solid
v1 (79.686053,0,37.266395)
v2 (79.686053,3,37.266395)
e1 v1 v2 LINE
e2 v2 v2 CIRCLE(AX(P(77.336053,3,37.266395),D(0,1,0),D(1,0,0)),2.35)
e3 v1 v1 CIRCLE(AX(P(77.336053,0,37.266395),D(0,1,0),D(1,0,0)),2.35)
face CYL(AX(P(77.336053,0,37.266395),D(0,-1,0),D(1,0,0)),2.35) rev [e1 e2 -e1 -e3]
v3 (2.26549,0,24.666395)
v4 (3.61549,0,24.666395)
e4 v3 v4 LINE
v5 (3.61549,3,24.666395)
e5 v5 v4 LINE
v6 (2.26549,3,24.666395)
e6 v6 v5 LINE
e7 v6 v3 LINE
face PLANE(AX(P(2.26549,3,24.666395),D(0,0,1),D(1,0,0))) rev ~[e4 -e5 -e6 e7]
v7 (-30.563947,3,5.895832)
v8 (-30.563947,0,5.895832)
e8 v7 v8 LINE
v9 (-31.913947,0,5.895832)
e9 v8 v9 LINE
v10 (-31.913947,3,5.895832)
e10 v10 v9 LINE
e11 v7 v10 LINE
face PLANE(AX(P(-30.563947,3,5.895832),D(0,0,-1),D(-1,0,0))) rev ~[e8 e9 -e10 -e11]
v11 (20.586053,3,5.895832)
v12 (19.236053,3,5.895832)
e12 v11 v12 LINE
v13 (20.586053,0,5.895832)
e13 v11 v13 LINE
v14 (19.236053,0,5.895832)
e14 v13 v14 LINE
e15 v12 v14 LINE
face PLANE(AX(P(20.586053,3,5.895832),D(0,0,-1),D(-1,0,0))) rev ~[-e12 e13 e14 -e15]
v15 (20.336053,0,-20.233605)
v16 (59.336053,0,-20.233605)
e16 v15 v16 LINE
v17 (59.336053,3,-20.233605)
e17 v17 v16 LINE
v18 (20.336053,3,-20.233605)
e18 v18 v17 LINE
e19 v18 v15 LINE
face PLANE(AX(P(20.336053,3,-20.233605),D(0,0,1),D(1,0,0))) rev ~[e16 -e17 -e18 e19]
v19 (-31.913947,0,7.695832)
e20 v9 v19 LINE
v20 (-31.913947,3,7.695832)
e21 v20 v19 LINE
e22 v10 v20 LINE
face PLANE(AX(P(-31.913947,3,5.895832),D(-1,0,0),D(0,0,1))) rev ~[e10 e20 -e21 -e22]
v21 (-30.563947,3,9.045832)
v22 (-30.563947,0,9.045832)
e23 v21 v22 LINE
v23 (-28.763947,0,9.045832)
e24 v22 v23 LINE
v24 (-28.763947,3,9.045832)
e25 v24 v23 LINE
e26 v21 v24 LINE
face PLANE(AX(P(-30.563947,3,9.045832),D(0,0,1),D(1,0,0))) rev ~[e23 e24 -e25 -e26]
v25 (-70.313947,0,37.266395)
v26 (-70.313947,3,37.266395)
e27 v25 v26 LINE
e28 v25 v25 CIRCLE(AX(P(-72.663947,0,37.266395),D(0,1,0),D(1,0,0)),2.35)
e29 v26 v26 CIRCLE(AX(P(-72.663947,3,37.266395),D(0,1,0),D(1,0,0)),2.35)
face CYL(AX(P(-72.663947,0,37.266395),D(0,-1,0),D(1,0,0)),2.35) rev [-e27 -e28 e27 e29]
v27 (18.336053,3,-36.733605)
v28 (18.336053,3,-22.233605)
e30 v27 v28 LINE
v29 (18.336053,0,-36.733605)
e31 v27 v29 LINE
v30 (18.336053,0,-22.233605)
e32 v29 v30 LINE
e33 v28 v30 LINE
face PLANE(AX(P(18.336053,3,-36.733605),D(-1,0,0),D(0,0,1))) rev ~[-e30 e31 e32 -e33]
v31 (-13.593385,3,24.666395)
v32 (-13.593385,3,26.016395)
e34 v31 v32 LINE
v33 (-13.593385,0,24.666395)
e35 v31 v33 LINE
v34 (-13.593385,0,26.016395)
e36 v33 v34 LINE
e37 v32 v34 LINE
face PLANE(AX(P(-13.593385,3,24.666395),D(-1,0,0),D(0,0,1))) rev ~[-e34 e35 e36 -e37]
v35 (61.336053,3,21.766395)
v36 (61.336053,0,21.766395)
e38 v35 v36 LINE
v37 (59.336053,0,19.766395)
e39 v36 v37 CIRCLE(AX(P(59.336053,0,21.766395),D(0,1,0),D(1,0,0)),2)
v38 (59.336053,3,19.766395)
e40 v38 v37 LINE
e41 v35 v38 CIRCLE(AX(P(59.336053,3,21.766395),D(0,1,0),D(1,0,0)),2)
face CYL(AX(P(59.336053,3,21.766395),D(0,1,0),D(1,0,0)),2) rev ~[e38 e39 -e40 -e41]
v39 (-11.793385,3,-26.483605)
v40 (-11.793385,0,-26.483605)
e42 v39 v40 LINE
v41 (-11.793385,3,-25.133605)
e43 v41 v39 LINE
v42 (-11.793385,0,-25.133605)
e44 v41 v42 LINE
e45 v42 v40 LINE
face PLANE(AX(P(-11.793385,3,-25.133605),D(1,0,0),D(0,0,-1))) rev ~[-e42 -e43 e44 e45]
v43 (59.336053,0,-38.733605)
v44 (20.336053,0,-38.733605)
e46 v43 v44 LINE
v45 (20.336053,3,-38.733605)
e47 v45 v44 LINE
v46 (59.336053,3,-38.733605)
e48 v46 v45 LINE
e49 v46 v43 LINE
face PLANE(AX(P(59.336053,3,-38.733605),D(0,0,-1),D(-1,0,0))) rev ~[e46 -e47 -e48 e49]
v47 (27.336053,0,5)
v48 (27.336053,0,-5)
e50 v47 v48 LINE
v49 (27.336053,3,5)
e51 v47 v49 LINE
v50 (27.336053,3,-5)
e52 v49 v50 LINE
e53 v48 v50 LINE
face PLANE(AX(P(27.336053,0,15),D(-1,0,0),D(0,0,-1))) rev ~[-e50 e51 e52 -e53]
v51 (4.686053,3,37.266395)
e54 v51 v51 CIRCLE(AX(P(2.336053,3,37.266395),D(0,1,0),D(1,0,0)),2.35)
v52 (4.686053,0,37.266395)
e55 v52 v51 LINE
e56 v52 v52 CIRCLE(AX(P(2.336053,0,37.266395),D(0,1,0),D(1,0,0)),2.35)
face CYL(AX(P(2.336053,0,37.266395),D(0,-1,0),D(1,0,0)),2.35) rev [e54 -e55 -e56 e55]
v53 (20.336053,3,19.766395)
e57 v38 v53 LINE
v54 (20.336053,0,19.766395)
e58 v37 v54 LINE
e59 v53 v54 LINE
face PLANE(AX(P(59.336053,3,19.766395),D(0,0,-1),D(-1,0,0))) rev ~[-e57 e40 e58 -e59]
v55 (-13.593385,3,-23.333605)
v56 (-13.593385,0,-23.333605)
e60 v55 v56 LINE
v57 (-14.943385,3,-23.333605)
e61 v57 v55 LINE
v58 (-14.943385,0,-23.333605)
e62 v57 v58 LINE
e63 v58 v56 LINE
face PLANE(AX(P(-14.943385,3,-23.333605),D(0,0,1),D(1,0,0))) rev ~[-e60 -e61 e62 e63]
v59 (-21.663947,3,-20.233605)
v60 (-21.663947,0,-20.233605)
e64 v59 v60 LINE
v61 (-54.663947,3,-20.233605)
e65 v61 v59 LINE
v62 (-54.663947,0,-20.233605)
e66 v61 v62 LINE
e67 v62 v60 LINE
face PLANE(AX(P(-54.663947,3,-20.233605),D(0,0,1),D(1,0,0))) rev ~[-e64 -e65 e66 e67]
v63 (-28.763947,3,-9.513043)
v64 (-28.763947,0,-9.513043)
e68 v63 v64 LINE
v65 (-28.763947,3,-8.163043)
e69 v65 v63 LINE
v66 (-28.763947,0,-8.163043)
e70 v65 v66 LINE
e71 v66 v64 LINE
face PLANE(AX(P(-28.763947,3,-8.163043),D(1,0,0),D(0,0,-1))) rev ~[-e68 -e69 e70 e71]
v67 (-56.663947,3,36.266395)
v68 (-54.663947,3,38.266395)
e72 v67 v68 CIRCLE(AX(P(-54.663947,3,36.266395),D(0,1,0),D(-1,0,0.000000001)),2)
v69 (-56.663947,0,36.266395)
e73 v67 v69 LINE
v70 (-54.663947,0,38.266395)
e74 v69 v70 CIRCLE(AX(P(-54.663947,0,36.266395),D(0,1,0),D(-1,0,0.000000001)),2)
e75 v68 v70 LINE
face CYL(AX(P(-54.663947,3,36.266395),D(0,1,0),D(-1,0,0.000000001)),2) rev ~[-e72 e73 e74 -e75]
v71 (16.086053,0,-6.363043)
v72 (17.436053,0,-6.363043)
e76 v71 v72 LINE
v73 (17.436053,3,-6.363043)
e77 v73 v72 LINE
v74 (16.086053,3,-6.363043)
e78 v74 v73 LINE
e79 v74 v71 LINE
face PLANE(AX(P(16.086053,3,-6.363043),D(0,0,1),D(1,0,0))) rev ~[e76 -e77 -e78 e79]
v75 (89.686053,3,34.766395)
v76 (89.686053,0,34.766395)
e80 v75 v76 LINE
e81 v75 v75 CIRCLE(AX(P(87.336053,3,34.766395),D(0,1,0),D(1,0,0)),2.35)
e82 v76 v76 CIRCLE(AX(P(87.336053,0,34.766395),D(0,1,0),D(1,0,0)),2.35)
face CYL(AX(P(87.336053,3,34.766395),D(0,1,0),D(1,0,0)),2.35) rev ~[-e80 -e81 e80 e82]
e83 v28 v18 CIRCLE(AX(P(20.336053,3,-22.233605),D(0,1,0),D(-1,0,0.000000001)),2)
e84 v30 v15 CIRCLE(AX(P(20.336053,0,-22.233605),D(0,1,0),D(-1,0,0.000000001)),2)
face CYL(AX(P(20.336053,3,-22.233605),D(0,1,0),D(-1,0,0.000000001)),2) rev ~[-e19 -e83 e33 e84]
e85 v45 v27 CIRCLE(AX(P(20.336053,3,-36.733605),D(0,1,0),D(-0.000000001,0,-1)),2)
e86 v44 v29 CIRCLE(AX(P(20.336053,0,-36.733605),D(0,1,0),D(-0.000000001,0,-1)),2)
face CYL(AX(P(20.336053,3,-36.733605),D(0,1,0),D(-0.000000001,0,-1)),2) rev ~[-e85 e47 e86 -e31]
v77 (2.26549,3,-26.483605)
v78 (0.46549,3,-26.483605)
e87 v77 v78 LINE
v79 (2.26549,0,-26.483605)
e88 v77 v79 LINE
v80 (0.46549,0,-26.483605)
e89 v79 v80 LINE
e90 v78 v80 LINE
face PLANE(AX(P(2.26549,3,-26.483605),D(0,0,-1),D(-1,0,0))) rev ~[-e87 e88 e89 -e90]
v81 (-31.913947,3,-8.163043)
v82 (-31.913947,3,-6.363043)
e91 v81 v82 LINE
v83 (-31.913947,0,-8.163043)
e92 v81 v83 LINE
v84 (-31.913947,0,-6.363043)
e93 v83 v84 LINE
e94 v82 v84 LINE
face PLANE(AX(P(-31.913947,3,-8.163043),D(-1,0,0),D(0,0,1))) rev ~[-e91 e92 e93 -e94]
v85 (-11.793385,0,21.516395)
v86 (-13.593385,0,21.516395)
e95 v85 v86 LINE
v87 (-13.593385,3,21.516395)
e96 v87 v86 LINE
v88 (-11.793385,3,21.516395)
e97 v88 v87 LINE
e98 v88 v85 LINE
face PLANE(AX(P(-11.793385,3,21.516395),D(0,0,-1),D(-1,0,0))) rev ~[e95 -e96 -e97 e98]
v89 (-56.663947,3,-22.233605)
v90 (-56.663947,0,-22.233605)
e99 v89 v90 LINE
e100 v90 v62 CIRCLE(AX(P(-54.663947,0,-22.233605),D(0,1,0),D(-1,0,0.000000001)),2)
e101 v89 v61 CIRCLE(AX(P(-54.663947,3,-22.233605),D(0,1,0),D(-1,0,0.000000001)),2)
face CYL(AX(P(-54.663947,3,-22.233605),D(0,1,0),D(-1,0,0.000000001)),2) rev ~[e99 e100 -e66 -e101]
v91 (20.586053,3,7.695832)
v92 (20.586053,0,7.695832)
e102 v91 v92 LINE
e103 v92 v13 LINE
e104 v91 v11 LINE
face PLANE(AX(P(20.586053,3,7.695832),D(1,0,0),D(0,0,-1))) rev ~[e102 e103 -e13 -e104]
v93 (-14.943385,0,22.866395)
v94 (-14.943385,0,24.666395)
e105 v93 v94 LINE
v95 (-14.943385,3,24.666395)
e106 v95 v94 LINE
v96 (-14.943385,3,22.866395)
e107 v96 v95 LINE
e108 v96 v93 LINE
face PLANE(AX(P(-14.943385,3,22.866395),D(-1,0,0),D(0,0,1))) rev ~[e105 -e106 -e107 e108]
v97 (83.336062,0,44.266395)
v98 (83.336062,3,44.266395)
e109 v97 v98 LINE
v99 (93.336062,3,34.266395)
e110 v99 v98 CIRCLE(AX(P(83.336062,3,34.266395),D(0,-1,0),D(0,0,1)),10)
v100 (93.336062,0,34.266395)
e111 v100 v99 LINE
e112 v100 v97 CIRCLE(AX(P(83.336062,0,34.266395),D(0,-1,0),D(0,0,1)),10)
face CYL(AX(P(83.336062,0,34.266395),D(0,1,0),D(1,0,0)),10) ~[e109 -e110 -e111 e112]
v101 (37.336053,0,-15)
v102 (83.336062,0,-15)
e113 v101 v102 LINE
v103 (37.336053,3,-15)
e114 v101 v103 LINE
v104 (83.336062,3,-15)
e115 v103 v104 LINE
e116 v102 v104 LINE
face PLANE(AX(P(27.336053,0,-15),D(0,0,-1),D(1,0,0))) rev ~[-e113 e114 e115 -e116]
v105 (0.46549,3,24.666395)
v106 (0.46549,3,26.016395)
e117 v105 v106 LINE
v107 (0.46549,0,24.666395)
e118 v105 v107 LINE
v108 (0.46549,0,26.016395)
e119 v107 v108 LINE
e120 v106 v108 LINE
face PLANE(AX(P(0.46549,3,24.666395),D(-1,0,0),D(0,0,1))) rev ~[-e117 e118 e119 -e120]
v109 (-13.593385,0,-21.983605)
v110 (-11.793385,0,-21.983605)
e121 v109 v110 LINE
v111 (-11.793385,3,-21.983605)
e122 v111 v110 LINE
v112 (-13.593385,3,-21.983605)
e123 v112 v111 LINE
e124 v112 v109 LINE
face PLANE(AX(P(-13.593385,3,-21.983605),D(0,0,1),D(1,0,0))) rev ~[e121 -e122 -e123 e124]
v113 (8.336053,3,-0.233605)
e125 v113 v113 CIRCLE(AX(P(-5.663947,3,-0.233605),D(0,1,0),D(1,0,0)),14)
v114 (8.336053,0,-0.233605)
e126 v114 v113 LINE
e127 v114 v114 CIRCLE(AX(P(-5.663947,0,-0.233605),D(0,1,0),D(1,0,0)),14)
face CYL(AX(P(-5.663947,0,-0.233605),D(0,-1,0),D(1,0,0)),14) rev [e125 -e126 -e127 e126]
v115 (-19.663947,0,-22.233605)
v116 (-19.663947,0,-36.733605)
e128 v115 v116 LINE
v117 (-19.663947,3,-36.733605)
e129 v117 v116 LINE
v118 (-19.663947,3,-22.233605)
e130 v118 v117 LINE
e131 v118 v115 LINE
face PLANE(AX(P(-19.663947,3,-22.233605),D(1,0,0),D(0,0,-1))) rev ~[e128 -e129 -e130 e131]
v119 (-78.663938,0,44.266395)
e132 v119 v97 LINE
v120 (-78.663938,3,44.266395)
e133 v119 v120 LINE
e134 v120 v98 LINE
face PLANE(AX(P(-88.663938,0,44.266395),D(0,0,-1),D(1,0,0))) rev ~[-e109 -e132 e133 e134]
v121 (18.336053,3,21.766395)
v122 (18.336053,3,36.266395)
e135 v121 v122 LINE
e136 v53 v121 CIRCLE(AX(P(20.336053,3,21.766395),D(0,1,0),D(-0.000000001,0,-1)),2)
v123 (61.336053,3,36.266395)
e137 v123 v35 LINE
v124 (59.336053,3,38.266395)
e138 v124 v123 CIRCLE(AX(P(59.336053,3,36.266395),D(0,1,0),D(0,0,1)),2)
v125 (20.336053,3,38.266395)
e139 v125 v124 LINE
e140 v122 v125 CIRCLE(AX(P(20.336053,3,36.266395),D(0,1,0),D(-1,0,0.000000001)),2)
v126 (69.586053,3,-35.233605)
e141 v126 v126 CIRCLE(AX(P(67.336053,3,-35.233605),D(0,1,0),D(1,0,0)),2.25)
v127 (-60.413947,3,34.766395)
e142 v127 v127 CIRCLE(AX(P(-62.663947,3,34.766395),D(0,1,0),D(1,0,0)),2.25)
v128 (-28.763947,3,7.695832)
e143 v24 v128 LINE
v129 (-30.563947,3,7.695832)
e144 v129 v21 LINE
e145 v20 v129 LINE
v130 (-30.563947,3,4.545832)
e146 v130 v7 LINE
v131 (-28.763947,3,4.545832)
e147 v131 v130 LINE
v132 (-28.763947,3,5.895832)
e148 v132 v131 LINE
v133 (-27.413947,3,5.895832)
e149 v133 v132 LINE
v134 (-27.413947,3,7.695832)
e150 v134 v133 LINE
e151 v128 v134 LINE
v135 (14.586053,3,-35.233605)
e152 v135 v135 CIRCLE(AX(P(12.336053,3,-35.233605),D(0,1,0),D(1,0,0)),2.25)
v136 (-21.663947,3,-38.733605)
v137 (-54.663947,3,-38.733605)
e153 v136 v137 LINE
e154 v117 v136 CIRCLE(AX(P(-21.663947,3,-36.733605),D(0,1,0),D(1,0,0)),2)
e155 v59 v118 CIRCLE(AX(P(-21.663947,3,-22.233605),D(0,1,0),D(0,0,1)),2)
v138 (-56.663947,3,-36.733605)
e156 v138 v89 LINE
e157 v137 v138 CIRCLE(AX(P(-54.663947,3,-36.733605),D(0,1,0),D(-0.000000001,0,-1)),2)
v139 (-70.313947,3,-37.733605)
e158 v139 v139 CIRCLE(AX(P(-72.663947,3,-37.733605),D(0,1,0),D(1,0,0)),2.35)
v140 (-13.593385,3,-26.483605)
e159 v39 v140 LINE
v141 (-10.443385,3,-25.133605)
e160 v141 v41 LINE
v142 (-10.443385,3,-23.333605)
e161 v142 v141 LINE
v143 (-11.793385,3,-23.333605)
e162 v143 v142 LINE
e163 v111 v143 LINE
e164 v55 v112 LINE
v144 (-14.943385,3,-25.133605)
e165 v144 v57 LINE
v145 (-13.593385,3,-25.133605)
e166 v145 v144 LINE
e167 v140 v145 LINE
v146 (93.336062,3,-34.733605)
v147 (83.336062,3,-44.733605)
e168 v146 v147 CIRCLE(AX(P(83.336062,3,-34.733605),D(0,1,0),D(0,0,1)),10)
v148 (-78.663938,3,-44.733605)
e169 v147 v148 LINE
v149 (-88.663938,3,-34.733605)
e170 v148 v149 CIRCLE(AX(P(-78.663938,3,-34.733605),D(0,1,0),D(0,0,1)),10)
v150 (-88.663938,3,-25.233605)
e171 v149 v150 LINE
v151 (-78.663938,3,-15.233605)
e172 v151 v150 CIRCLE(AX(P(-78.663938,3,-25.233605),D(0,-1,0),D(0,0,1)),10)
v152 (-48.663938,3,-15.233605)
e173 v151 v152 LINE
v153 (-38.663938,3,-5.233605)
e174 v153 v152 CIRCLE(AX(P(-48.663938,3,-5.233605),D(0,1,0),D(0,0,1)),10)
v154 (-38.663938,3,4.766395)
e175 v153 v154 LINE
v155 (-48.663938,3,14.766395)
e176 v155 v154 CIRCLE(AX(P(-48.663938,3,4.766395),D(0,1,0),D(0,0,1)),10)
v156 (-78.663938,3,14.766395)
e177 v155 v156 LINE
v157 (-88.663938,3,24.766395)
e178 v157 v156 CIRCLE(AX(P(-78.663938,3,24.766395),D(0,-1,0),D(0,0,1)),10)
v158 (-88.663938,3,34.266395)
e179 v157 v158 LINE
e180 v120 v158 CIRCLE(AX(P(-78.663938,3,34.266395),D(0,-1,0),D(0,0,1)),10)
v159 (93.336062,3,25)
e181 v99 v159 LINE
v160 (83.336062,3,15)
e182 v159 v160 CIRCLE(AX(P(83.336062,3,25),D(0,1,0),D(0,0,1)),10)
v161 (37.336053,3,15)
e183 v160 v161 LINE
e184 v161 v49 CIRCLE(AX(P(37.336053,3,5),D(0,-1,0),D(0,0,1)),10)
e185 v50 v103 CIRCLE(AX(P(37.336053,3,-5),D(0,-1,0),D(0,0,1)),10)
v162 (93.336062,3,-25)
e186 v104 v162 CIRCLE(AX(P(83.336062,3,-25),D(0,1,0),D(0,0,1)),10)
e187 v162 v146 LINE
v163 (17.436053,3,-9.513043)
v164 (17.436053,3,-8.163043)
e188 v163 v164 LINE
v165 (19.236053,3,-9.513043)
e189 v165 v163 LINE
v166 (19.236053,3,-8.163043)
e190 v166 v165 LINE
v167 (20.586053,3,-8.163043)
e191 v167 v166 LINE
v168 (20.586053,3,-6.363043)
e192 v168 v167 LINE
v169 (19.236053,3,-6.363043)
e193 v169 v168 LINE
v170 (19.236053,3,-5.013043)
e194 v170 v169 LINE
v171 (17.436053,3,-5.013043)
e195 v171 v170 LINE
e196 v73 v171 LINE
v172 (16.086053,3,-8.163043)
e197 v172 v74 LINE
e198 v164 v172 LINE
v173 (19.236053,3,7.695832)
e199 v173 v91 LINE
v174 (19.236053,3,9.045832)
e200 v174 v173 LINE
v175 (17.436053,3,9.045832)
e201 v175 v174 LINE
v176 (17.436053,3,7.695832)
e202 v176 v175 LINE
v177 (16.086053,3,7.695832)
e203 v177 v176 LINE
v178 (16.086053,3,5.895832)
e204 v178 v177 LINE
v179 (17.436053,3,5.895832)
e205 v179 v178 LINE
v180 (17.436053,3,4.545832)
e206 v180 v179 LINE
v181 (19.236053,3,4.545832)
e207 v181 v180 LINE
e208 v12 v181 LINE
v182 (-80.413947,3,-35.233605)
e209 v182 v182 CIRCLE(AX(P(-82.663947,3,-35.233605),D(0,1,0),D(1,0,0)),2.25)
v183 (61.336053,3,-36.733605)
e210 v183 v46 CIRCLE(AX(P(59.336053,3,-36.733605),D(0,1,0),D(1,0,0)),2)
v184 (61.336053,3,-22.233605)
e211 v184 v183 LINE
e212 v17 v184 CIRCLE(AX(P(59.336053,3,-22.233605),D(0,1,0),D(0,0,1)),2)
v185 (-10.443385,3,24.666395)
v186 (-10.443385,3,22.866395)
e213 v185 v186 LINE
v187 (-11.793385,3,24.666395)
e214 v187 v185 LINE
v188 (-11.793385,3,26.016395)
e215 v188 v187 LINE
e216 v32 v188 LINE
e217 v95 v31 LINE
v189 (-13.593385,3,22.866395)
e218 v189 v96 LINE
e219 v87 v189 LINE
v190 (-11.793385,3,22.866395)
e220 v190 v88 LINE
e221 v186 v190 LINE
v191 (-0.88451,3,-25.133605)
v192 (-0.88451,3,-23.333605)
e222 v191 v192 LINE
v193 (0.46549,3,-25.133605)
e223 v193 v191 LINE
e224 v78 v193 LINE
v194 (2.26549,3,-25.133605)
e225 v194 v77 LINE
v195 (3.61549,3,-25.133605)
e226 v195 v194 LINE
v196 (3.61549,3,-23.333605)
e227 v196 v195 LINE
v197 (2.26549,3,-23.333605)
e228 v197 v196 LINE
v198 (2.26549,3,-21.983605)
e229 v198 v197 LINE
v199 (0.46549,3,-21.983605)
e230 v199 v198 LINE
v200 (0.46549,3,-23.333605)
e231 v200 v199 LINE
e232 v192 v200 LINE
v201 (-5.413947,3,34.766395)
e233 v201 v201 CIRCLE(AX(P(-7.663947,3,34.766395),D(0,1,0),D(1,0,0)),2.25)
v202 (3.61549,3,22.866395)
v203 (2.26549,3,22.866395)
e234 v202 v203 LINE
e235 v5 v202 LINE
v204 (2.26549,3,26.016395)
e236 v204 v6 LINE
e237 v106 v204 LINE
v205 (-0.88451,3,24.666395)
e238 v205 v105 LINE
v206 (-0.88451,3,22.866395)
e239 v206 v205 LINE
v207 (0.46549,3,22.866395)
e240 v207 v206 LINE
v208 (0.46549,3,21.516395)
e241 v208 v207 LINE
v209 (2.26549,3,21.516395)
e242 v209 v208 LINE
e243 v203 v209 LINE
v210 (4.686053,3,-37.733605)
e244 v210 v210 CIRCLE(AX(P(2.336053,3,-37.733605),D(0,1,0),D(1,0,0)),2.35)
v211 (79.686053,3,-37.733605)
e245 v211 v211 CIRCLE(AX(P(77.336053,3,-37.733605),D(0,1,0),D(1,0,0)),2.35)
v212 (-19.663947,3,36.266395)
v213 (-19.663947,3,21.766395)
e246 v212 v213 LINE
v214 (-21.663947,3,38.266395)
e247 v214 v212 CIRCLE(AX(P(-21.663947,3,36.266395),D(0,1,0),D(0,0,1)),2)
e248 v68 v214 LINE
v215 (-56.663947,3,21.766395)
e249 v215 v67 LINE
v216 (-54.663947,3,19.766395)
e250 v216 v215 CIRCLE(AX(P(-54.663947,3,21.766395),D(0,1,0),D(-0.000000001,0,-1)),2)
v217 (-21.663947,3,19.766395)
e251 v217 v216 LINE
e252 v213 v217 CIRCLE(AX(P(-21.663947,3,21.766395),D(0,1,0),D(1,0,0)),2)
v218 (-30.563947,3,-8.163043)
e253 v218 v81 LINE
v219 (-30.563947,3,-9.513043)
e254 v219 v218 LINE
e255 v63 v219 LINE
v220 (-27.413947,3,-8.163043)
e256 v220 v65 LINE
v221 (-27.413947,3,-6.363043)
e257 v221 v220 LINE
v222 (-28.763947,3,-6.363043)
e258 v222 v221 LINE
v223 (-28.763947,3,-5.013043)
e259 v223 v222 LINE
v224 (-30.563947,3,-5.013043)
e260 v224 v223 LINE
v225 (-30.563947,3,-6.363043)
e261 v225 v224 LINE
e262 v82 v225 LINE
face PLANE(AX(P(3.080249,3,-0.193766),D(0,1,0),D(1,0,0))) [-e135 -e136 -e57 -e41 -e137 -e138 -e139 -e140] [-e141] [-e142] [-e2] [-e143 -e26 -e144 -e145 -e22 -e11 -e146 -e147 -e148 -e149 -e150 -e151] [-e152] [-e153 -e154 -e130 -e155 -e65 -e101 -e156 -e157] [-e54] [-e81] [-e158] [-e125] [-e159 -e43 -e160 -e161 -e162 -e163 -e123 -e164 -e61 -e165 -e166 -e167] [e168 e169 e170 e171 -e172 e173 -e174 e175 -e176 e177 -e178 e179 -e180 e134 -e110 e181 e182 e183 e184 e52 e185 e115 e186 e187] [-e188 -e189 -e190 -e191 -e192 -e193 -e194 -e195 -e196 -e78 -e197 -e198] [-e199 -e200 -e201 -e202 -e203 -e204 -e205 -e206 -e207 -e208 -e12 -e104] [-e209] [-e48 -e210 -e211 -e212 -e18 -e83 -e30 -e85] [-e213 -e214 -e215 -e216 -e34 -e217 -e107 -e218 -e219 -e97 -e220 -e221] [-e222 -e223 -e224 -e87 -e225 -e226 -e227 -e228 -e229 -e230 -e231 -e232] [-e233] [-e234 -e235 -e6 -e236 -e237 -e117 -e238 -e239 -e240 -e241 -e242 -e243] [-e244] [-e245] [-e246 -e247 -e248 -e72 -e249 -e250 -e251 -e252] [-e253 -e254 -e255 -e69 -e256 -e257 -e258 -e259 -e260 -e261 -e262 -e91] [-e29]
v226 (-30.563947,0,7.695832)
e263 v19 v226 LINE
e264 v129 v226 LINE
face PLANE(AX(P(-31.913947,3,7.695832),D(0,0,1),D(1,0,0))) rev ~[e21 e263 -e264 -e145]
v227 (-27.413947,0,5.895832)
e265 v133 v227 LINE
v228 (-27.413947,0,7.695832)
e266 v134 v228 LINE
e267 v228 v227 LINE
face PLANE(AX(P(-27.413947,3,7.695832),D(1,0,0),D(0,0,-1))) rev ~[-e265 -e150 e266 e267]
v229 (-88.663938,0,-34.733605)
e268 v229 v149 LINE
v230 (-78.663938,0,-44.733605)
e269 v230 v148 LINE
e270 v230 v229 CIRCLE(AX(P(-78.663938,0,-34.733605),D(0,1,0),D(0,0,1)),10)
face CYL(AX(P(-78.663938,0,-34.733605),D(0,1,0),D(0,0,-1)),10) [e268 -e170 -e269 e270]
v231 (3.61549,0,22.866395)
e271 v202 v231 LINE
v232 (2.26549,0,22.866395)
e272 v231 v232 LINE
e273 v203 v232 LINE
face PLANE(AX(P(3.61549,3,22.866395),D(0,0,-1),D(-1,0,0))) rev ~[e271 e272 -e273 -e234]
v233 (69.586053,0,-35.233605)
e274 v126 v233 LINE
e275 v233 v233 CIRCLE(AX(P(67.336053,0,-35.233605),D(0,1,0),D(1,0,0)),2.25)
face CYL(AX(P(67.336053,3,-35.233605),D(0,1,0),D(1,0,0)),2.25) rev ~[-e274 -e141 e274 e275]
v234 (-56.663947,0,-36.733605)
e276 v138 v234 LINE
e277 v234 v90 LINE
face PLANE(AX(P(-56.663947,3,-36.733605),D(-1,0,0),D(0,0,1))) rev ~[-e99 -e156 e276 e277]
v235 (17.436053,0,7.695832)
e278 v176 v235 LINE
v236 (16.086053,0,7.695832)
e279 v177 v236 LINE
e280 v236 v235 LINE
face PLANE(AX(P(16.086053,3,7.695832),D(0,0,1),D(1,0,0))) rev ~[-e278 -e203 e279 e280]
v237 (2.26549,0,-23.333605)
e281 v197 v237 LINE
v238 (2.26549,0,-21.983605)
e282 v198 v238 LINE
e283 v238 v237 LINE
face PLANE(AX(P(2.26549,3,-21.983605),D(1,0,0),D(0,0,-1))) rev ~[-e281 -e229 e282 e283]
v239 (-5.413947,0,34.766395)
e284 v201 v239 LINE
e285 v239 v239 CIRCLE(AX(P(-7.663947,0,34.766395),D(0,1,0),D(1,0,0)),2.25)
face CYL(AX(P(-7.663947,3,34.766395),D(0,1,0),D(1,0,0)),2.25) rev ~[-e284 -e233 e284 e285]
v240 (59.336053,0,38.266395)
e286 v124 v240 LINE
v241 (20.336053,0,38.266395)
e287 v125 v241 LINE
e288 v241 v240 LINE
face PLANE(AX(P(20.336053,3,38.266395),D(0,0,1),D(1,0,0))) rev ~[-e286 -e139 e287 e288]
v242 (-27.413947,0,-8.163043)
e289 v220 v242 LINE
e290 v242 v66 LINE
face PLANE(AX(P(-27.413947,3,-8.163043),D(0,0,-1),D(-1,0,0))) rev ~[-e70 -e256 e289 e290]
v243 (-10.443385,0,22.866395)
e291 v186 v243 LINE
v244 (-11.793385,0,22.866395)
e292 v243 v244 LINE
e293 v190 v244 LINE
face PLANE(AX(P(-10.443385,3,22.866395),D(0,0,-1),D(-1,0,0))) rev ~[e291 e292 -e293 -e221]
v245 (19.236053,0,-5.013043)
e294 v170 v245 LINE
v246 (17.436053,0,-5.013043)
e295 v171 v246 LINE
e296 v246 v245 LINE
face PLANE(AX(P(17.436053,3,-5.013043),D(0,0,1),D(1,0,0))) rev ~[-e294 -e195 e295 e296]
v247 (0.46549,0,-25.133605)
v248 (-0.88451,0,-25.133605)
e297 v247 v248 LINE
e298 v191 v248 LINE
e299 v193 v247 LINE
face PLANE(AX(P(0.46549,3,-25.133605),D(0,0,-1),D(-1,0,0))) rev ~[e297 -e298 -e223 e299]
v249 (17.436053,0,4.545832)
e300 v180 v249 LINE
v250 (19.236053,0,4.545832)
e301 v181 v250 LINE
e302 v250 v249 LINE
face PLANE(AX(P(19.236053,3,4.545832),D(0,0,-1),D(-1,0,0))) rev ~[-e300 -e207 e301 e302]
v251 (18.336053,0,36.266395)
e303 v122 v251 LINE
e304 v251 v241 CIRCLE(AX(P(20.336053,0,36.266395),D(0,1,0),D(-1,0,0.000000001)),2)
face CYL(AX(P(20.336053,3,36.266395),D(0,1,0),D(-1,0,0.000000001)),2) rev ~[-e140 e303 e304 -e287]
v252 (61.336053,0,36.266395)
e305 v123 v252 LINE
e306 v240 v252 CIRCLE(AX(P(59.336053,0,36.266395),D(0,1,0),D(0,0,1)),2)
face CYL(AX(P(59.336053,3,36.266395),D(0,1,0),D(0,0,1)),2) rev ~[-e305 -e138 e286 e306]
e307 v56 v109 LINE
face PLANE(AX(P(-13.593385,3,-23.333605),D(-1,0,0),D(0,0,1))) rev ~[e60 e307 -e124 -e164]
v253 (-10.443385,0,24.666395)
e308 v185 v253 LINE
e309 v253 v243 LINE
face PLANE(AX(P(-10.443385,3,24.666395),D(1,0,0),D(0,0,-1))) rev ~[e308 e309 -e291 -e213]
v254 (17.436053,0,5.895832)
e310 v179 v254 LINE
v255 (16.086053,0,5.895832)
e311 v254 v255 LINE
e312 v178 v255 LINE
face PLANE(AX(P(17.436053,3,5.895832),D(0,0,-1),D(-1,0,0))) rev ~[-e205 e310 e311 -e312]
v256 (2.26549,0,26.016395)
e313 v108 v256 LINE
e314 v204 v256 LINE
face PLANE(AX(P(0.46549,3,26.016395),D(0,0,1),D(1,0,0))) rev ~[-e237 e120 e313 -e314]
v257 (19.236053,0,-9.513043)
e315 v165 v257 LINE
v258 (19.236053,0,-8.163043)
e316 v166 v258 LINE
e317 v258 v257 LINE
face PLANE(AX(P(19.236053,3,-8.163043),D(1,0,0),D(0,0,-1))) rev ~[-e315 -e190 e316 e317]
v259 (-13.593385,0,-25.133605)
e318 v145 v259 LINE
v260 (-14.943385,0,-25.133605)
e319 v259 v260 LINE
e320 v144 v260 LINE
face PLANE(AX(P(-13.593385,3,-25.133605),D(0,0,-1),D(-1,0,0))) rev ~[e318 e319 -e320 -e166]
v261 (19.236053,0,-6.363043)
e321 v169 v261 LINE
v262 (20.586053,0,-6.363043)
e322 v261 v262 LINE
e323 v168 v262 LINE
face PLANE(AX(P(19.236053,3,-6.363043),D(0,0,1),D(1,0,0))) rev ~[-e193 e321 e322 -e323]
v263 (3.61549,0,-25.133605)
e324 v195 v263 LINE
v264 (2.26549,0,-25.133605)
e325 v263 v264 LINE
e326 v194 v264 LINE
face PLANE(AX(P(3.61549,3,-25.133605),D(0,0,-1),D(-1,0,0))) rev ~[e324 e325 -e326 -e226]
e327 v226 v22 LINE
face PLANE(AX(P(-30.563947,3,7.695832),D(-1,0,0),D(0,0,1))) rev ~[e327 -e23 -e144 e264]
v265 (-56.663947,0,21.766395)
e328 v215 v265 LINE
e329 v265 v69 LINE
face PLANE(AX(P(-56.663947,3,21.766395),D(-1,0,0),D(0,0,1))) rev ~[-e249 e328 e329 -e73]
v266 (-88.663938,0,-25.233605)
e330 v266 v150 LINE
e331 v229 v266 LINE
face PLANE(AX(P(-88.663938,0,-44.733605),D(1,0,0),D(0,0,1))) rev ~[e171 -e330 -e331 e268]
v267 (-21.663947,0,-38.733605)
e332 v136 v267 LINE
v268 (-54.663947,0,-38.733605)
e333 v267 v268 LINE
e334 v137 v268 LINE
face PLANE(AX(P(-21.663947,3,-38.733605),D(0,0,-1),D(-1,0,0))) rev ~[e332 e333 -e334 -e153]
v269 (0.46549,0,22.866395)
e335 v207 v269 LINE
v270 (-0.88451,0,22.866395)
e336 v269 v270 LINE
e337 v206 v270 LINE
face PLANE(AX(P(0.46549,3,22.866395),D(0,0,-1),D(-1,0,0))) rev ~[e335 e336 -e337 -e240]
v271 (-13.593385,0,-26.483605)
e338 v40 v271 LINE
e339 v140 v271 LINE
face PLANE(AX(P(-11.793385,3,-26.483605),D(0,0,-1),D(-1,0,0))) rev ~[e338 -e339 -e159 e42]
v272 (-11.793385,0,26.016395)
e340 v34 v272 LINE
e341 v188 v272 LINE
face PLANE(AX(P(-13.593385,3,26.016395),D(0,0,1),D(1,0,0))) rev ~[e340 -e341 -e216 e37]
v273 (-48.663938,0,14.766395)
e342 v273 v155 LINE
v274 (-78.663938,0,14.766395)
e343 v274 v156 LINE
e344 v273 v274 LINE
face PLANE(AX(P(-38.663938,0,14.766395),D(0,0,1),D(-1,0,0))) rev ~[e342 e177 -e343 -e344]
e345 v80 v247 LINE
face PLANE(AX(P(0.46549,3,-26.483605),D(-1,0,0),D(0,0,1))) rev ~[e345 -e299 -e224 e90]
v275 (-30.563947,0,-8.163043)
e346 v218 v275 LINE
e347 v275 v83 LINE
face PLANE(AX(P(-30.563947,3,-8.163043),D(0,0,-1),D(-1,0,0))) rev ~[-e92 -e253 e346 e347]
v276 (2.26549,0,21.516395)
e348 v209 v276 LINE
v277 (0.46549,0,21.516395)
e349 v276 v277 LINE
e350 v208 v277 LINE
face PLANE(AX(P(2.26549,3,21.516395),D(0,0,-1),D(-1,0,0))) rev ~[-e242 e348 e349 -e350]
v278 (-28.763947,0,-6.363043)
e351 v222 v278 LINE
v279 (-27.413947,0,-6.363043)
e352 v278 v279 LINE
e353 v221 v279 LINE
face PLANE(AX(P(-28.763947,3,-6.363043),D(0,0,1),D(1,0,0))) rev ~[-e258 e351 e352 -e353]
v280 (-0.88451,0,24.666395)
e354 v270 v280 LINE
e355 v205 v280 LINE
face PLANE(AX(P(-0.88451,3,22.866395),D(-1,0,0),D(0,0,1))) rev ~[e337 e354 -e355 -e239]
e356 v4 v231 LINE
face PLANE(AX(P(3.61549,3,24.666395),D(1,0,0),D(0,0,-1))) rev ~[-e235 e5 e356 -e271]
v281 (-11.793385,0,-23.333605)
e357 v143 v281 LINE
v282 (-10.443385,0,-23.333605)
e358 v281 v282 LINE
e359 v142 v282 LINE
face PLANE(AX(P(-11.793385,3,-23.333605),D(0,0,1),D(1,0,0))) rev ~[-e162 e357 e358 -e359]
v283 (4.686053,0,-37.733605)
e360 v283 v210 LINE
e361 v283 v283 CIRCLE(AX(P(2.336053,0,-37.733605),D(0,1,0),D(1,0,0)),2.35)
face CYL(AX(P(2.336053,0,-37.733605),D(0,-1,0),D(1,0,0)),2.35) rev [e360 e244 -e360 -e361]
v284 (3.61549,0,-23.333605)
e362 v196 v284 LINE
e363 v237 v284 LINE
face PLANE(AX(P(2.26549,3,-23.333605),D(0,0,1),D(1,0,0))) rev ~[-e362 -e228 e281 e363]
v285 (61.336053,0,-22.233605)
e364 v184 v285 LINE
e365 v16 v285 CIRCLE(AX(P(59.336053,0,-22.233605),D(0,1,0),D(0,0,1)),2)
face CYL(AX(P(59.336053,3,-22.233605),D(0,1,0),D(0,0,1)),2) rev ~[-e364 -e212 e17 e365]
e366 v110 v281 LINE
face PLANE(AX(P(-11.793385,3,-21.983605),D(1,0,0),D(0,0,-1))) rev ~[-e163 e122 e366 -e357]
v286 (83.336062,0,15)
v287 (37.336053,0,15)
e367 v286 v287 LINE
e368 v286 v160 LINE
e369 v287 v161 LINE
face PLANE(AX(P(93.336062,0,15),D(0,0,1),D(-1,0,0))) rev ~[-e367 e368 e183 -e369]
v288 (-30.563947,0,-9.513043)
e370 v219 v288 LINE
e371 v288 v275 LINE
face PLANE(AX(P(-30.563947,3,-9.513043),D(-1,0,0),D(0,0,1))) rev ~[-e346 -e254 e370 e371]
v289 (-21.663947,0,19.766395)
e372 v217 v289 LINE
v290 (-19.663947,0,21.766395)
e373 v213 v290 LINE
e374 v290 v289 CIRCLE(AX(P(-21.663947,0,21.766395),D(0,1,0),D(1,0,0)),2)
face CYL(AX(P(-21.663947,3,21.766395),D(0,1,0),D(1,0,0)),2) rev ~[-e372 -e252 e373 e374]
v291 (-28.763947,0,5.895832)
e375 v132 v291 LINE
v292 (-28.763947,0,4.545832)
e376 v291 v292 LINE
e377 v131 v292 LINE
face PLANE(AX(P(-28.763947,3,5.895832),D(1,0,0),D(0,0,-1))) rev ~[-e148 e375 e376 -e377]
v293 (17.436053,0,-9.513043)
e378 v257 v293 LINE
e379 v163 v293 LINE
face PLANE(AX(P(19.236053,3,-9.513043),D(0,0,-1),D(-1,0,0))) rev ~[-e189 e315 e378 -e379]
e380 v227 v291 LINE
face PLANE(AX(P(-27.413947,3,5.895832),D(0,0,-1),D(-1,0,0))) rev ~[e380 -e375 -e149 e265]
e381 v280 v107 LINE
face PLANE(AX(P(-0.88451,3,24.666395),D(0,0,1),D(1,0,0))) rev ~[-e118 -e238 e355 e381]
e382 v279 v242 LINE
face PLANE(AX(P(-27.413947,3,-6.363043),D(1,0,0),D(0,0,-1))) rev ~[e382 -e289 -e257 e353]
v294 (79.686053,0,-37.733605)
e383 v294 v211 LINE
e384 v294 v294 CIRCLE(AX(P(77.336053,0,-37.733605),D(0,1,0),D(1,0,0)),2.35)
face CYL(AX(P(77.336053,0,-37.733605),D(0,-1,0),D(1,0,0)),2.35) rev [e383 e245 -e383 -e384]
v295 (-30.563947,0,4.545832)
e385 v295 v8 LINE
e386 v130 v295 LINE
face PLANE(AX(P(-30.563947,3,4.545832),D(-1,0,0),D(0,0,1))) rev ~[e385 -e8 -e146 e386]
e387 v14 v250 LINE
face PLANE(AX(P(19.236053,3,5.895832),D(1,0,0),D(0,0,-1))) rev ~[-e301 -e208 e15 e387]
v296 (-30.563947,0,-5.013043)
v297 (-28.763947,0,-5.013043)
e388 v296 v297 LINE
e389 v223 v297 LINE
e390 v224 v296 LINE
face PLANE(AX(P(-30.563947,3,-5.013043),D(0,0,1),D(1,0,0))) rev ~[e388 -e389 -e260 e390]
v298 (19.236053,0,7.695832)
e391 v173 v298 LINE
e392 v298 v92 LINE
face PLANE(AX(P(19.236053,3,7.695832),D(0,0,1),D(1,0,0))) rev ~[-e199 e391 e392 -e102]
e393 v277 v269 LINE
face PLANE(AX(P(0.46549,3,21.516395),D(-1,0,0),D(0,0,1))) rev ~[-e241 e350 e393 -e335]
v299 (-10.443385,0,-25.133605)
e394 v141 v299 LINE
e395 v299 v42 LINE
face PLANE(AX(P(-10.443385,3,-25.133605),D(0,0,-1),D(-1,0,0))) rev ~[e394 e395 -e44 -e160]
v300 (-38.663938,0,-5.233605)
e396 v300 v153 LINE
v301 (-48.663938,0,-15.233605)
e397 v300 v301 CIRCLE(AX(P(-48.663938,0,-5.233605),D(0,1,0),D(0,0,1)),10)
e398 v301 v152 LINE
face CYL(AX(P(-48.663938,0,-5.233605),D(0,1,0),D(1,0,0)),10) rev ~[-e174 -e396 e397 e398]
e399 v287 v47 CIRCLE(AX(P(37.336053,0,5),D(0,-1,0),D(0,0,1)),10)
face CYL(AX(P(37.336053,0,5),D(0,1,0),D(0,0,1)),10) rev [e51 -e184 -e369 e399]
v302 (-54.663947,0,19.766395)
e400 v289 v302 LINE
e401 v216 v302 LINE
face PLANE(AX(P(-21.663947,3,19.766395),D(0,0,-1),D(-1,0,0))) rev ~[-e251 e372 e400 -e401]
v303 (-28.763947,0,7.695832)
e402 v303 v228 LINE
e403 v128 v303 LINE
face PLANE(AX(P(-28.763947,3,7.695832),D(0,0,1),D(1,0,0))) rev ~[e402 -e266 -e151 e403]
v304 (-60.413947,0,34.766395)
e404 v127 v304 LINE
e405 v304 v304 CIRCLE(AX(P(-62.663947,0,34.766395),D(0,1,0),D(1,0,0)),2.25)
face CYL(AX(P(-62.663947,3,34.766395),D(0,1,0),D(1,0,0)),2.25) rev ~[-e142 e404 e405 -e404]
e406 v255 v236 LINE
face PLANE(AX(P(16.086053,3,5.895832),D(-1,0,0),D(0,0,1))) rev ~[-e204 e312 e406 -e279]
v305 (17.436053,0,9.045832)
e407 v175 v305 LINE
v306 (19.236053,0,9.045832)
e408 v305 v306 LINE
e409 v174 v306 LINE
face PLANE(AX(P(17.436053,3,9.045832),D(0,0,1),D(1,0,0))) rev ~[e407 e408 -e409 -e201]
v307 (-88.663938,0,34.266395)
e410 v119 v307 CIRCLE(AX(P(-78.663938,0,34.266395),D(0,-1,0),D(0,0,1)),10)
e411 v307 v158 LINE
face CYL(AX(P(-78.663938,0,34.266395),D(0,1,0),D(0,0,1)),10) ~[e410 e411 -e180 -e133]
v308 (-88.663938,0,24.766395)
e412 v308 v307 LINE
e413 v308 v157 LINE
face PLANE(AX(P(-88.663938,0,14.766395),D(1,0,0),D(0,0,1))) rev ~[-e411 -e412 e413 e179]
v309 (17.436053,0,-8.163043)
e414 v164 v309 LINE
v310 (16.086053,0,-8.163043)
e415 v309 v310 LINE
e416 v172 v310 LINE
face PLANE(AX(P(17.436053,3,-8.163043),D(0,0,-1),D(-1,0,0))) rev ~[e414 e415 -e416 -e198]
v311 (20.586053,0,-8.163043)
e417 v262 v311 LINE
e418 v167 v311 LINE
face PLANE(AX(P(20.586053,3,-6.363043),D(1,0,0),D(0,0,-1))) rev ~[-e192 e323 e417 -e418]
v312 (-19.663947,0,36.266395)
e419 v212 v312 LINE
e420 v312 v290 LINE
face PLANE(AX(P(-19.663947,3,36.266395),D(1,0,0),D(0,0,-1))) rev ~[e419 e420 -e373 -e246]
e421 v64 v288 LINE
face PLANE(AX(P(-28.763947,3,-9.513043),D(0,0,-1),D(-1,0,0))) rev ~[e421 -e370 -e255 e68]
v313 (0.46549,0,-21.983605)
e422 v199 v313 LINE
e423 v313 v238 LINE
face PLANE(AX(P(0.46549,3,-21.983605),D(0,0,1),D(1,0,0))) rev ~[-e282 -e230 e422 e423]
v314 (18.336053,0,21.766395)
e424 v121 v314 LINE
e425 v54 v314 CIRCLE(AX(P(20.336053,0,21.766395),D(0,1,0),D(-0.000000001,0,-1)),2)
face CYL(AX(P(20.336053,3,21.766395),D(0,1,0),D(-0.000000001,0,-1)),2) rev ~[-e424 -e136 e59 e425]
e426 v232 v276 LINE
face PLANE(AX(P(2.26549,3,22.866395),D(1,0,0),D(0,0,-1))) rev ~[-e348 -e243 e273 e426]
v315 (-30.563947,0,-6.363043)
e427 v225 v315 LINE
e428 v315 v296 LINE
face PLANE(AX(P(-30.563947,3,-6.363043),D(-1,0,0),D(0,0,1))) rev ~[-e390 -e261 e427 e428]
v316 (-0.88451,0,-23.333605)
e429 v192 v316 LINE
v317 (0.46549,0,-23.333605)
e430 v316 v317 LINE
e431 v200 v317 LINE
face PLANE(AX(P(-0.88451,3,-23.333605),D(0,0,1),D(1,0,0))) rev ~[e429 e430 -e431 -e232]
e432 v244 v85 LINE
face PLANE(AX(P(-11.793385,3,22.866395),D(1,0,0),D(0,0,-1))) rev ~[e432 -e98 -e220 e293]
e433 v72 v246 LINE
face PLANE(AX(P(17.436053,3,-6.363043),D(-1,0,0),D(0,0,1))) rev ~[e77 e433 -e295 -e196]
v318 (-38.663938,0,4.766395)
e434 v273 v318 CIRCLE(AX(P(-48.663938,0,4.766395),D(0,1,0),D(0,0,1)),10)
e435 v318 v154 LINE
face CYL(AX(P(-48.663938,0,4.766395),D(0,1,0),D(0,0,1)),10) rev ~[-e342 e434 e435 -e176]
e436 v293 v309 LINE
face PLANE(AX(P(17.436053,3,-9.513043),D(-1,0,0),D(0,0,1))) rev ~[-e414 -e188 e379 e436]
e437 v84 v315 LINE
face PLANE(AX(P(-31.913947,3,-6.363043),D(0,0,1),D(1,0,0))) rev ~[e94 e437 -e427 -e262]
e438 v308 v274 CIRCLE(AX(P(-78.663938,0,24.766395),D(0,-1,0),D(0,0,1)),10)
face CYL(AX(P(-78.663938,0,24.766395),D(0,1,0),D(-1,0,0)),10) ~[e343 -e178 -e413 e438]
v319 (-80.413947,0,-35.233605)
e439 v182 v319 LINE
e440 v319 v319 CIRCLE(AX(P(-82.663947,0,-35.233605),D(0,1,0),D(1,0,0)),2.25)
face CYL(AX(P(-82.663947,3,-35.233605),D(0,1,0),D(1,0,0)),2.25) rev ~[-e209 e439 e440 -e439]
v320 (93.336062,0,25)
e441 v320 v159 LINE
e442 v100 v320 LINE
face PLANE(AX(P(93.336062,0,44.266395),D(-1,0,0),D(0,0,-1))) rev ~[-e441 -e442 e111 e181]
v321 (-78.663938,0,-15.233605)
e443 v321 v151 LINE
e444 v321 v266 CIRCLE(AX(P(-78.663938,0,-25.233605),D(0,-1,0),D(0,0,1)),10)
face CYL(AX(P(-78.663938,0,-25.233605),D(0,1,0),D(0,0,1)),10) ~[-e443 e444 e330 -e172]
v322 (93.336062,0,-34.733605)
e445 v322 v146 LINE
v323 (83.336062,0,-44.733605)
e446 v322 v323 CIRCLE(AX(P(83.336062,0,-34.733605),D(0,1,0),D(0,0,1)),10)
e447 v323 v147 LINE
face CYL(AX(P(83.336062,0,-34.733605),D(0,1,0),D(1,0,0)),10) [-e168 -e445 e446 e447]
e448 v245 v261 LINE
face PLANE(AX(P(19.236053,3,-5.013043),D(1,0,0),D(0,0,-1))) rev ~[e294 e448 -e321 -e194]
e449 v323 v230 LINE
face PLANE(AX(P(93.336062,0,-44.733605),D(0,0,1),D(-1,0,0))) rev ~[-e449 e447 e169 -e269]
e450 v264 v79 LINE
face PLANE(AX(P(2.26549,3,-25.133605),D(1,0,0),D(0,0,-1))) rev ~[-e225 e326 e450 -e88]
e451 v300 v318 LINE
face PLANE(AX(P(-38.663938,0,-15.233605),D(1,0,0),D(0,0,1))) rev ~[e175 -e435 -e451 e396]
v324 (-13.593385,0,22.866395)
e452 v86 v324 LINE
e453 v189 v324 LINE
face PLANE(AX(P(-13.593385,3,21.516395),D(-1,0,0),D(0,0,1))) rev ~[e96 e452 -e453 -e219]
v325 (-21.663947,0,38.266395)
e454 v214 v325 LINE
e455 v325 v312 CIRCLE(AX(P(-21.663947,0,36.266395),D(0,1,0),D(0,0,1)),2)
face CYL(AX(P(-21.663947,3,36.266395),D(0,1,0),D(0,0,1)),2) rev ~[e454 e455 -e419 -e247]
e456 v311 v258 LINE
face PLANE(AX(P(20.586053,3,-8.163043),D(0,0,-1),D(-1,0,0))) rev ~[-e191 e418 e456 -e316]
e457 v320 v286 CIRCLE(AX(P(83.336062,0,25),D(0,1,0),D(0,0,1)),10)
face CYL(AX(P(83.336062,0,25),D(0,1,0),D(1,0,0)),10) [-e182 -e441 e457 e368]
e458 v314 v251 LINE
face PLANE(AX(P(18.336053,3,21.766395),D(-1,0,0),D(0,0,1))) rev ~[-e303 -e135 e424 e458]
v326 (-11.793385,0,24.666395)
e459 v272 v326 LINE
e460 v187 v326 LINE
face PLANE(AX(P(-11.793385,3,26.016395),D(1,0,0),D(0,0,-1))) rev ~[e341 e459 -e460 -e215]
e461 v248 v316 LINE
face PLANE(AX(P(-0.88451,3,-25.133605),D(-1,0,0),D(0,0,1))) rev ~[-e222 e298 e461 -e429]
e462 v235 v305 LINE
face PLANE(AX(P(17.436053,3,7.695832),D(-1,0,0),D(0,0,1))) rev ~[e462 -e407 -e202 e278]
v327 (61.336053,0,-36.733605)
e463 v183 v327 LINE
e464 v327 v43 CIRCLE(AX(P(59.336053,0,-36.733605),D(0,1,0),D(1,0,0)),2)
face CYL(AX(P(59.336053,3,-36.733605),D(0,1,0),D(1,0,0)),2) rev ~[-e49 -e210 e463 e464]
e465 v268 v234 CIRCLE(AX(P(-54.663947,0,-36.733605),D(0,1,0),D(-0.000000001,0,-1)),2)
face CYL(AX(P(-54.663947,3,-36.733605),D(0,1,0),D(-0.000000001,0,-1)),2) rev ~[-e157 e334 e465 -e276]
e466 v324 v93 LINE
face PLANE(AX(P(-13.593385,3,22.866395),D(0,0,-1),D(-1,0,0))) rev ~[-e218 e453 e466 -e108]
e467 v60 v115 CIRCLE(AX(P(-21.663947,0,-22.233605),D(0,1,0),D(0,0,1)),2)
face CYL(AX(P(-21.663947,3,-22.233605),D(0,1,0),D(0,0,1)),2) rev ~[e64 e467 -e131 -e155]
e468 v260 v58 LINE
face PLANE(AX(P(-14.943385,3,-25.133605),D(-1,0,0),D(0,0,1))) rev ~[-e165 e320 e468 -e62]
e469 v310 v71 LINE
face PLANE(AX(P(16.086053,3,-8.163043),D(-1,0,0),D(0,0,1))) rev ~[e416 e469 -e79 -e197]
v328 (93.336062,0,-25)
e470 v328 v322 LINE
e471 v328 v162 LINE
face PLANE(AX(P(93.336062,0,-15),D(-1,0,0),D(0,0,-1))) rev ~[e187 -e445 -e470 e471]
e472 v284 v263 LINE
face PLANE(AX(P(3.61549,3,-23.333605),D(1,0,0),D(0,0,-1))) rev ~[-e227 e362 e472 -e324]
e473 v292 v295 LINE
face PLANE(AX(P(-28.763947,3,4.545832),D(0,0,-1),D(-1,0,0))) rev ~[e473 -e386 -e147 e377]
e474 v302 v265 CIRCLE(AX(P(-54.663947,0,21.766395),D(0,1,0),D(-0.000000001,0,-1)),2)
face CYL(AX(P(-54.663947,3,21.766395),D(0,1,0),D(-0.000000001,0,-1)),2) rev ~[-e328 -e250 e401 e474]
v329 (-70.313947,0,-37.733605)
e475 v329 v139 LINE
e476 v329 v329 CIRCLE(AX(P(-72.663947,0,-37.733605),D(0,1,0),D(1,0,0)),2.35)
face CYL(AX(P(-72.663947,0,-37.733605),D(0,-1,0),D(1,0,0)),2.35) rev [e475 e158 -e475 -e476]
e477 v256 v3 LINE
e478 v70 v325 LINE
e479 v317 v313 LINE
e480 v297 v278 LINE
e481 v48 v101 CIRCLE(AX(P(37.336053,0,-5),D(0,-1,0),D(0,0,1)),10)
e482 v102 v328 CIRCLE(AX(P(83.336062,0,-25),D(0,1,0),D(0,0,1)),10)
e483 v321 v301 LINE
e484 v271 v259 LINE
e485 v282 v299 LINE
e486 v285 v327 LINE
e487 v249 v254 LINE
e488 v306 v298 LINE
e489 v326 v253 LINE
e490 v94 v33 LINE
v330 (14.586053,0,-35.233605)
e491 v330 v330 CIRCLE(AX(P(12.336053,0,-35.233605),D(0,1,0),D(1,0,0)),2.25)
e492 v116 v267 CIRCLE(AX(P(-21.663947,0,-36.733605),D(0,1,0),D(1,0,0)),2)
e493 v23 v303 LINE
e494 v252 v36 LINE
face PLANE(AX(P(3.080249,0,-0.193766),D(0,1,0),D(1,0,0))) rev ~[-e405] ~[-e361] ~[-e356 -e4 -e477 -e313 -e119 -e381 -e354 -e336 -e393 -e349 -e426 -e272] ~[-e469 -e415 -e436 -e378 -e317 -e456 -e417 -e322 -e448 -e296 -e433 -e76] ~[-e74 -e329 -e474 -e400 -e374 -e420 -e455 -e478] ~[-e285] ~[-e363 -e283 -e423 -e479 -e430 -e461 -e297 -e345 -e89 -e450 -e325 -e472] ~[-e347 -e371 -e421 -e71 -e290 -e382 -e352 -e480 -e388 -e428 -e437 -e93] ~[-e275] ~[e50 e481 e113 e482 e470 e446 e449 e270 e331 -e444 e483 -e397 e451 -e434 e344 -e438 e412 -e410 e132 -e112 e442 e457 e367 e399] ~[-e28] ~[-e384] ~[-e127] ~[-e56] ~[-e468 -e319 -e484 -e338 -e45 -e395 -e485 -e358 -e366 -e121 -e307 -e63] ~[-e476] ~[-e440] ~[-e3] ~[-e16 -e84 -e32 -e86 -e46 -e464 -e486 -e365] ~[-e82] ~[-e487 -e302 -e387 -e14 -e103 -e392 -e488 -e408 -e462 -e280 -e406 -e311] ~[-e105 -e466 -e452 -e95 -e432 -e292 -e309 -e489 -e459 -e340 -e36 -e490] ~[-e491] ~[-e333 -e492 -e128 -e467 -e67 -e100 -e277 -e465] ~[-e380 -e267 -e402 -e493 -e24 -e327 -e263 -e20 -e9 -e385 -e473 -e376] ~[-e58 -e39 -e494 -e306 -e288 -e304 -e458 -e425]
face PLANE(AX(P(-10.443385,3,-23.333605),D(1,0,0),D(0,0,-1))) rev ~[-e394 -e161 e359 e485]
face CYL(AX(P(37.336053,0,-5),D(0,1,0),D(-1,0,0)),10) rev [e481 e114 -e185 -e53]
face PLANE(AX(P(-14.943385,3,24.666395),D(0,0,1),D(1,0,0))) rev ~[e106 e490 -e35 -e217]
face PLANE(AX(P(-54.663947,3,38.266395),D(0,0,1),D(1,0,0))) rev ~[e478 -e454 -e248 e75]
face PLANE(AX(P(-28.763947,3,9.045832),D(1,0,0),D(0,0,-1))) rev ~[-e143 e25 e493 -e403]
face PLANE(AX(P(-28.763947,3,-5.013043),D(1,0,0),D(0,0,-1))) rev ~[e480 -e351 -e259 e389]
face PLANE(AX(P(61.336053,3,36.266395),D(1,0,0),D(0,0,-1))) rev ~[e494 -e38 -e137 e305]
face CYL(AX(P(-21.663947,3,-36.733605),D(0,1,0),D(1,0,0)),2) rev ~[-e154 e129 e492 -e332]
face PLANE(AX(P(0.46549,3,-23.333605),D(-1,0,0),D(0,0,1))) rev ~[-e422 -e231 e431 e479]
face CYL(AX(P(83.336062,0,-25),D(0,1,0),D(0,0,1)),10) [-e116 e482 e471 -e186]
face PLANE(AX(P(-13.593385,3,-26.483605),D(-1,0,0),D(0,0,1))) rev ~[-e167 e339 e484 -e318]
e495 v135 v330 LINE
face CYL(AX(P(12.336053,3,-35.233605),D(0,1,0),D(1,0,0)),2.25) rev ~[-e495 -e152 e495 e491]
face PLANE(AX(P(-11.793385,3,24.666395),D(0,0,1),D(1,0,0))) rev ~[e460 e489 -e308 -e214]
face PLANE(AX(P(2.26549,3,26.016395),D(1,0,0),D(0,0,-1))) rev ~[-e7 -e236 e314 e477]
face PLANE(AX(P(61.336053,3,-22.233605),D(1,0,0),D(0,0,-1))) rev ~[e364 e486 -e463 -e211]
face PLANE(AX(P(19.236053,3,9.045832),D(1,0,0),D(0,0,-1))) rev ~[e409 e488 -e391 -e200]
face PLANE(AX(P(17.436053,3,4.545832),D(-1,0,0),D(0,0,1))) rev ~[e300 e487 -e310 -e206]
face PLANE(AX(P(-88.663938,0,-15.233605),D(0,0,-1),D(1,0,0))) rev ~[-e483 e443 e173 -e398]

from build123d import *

# Parameters (mm, degrees)
SKETCH1_R           = 14
SKETCH1_R_2         = 2.35
BOSS_EXTRUDE1_DEPTH = 3
CUT_EXTRUDE1_DEPTH  = 4
FILLET1_R           = 10
SKETCH4_R           = 2.35
SKETCH4_R_2         = 2.25
CUT_EXTRUDE2_DEPTH  = 10
CUT_EXTRUDE3_DEPTH  = 10


with BuildPart() as part:
    # Sketch1 → Boss-Extrude1 (new body)
    with BuildSketch(Plane(origin=(0, 0, 0), x_dir=(1, 0, 0), z_dir=(0, 1, 0))):
        Polygon((24.685193035, -44.266394733), (93.336062351, -44.266394733), (93.336062351, -15), (27.336052671, -15), (27.336052671, 15), (93.336062351, 15), (93.336062351, 44.733605267), (24.683748509, 44.733605267), (-88.663937649, 44.733605267), (-88.663937649, 15.233605267), (-38.663937649, 15.233605267), (-38.663937649, -14.766394733), (-88.663937649, -14.766394733), (-88.663937649, -44.266394733), align=None)
        with Locations((-5.663947329, 0.233605267)):
            Circle(SKETCH1_R, mode=Mode.SUBTRACT)
        with Locations((-72.663947329, -37.266394733)):
            Circle(SKETCH1_R_2, mode=Mode.SUBTRACT)
        with Locations((2.336052671, -37.266394733)):
            Circle(SKETCH1_R_2, mode=Mode.SUBTRACT)
        with Locations((77.336052671, -37.266394733)):
            Circle(SKETCH1_R_2, mode=Mode.SUBTRACT)
        with Locations((77.336052671, 37.733605267)):
            Circle(SKETCH1_R_2, mode=Mode.SUBTRACT)
        with Locations((2.336052671, 37.733605267)):
            Circle(SKETCH1_R_2, mode=Mode.SUBTRACT)
        with Locations((-72.663947329, 37.733605267)):
            Circle(SKETCH1_R_2, mode=Mode.SUBTRACT)
    extrude(amount=BOSS_EXTRUDE1_DEPTH)

    # Sketch3 → Cut-Extrude1 (cut, through all)
    with BuildSketch(Plane(origin=(0, 3, 0), x_dir=(1, 0, 0), z_dir=(0, 1, 0))):
        Polygon((20.586052671, -7.695831984), (20.586052671, -5.895831984), (19.236052671, -5.895831984), (19.236052671, -4.545831984), (17.436052671, -4.545831984), (17.436052671, -5.895831984), (16.086052671, -5.895831984), (16.086052671, -7.695831984), (17.436052671, -7.695831984), (17.436052671, -9.045831984), (19.236052671, -9.045831984), (19.236052671, -7.695831984), align=None)
        Polygon((17.436052671, 5.013042519), (19.236052671, 5.013042519), (19.236052671, 6.363042519), (20.586052671, 6.363042519), (20.586052671, 8.163042519), (19.236052671, 8.163042519), (19.236052671, 9.513042519), (17.436052671, 9.513042519), (17.436052671, 8.163042519), (16.086052671, 8.163042519), (16.086052671, 6.363042519), (17.436052671, 6.363042519), align=None)
        Polygon((-13.59338458, -22.866394733), (-14.94338458, -22.866394733), (-14.94338458, -24.666394733), (-13.59338458, -24.666394733), (-13.59338458, -26.016394733), (-11.79338458, -26.016394733), (-11.79338458, -24.666394733), (-10.44338458, -24.666394733), (-10.44338458, -22.866394733), (-11.79338458, -22.866394733), (-11.79338458, -21.516394733), (-13.59338458, -21.516394733), align=None)
        Polygon((-31.913947329, 8.163042519), (-31.913947329, 6.363042519), (-30.563947329, 6.363042519), (-30.563947329, 5.013042519), (-28.763947329, 5.013042519), (-28.763947329, 6.363042519), (-27.413947329, 6.363042519), (-27.413947329, 8.163042519), (-28.763947329, 8.163042519), (-28.763947329, 9.513042519), (-30.563947329, 9.513042519), (-30.563947329, 8.163042519), align=None)
        Polygon((-0.884510077, -24.666394733), (0.465489923, -24.666394733), (0.465489923, -26.016394733), (2.265489923, -26.016394733), (2.265489923, -24.666394733), (3.615489923, -24.666394733), (3.615489923, -22.866394733), (2.265489923, -22.866394733), (2.265489923, -21.516394733), (0.465489923, -21.516394733), (0.465489923, -22.866394733), (-0.884510077, -22.866394733), align=None)
        Polygon((-31.913947329, -7.695831984), (-30.563947329, -7.695831984), (-30.563947329, -9.045831984), (-28.763947329, -9.045831984), (-28.763947329, -7.695831984), (-27.413947329, -7.695831984), (-27.413947329, -5.895831984), (-28.763947329, -5.895831984), (-28.763947329, -4.545831984), (-30.563947329, -4.545831984), (-30.563947329, -5.895831984), (-31.913947329, -5.895831984), align=None)
        Polygon((0.465489923, 26.483605267), (0.465489923, 25.133605267), (-0.884510077, 25.133605267), (-0.884510077, 23.333605267), (0.465489923, 23.333605267), (0.465489923, 21.983605267), (2.265489923, 21.983605267), (2.265489923, 23.333605267), (3.615489923, 23.333605267), (3.615489923, 25.133605267), (2.265489923, 25.133605267), (2.265489923, 26.483605267), align=None)
        Polygon((-13.59338458, 26.483605267), (-13.59338458, 25.133605267), (-14.94338458, 25.133605267), (-14.94338458, 23.333605267), (-13.59338458, 23.333605267), (-13.59338458, 21.983605267), (-11.79338458, 21.983605267), (-11.79338458, 23.333605267), (-10.44338458, 23.333605267), (-10.44338458, 25.133605267), (-11.79338458, 25.133605267), (-11.79338458, 26.483605267), align=None)
    extrude(amount=-CUT_EXTRUDE1_DEPTH, mode=Mode.SUBTRACT)

    # Fillet1
    fillet1_edges = [part.edges().sort_by_distance(p)[0] for p in [
        (-88.663937649, 1.5, -15.233605267),
        (-88.663937649, 1.5, -44.733605267),
        (93.336062351, 1.5, -44.733605267),
        (93.336062351, 1.5, -15),
        (27.336052671, 1.5, -15),
        (27.336052671, 1.5, 15),
        (93.336062351, 1.5, 15),
        (93.336062351, 1.5, 44.266394733),
        (-88.663937649, 1.5, 44.266394733),
        (-88.663937649, 1.5, 14.766394733),
        (-38.663937649, 1.5, 14.766394733),
        (-38.663937649, 1.5, -15.233605267),
    ]]
    fillet(fillet1_edges, radius=FILLET1_R)

    # Sketch4 → Cut-Extrude2 (cut)
    with BuildSketch(Plane(origin=(0, 3, 0), x_dir=(1, 0, 0), z_dir=(0, 1, 0))):
        with Locations((87.336052671, -34.766394733)):
            Circle(SKETCH4_R)
        with Locations((67.336052671, 35.233605267)):
            Circle(SKETCH4_R_2)
        with Locations((12.336052671, 35.233605267)):
            Circle(SKETCH4_R_2)
        with Locations((-82.663947329, 35.233605267)):
            Circle(SKETCH4_R_2)
        with Locations((-62.663947329, -34.766394733)):
            Circle(SKETCH4_R_2)
        with Locations((-7.663947329, -34.766394733)):
            Circle(SKETCH4_R_2)
    extrude(amount=-CUT_EXTRUDE2_DEPTH, mode=Mode.SUBTRACT)

    # Sketch5 → Cut-Extrude3 (cut)
    with BuildSketch(Plane(origin=(0, 3, 0), x_dir=(1, 0, 0), z_dir=(0, 1, 0))):
        with BuildLine():
            Line((59.336052671, -19.766394733), (20.336052671, -19.766394733))
            ThreePointArc((20.336052671, -19.766394733), (18.921839109, -20.352181171), (18.336052671, -21.766394733))
            Line((18.336052671, -21.766394733), (18.336052671, -36.266394733))
            ThreePointArc((18.336052671, -36.266394733), (18.921839109, -37.680608295), (20.336052671, -38.266394733))
            Line((20.336052671, -38.266394733), (59.336052671, -38.266394733))
            ThreePointArc((59.336052671, -38.266394733), (60.750266234, -37.680608295), (61.336052671, -36.266394733))
            Line((61.336052671, -36.266394733), (61.336052671, -21.766394733))
            ThreePointArc((61.336052671, -21.766394733), (60.750266234, -20.352181171), (59.336052671, -19.766394733))
        make_face()
        with BuildLine():
            Line((18.336052671, 36.733605267), (18.336052671, 22.233605267))
            ThreePointArc((18.336052671, 22.233605267), (18.921839109, 20.819391705), (20.336052671, 20.233605267))
            Line((20.336052671, 20.233605267), (59.336052671, 20.233605267))
            ThreePointArc((59.336052671, 20.233605267), (60.750266234, 20.819391705), (61.336052671, 22.233605267))
            Line((61.336052671, 22.233605267), (61.336052671, 36.733605267))
            ThreePointArc((61.336052671, 36.733605267), (60.750266234, 38.147818829), (59.336052671, 38.733605267))
            Line((59.336052671, 38.733605267), (20.336052671, 38.733605267))
            ThreePointArc((20.336052671, 38.733605267), (18.921839109, 38.147818829), (18.336052671, 36.733605267))
        make_face()
        with BuildLine():
            Line((-56.663947329, -21.766394733), (-56.663947329, -36.266394733))
            ThreePointArc((-56.663947329, -36.266394733), (-56.078160891, -37.680608295), (-54.663947329, -38.266394733))
            Line((-54.663947329, -38.266394733), (-21.663947329, -38.266394733))
            ThreePointArc((-21.663947329, -38.266394733), (-20.249733766, -37.680608295), (-19.663947329, -36.266394733))
            Line((-19.663947329, -36.266394733), (-19.663947329, -21.766394733))
            ThreePointArc((-19.663947329, -21.766394733), (-20.249733766, -20.352181171), (-21.663947329, -19.766394733))
            Line((-21.663947329, -19.766394733), (-54.663947329, -19.766394733))
            ThreePointArc((-54.663947329, -19.766394733), (-56.078160891, -20.352181171), (-56.663947329, -21.766394733))
        make_face()
        with BuildLine():
            Line((-56.663947329, 36.733605267), (-56.663947329, 22.233605267))
            ThreePointArc((-56.663947329, 22.233605267), (-56.078160891, 20.819391705), (-54.663947329, 20.233605267))
            Line((-54.663947329, 20.233605267), (-21.663947329, 20.233605267))
            ThreePointArc((-21.663947329, 20.233605267), (-20.249733766, 20.819391705), (-19.663947329, 22.233605267))
            Line((-19.663947329, 22.233605267), (-19.663947329, 36.733605267))
            ThreePointArc((-19.663947329, 36.733605267), (-20.249733766, 38.147818829), (-21.663947329, 38.733605267))
            Line((-21.663947329, 38.733605267), (-54.663947329, 38.733605267))
            ThreePointArc((-54.663947329, 38.733605267), (-56.078160891, 38.147818829), (-56.663947329, 36.733605267))
        make_face()
    extrude(amount=-CUT_EXTRUDE3_DEPTH, mode=Mode.SUBTRACT)


solid = part.part
